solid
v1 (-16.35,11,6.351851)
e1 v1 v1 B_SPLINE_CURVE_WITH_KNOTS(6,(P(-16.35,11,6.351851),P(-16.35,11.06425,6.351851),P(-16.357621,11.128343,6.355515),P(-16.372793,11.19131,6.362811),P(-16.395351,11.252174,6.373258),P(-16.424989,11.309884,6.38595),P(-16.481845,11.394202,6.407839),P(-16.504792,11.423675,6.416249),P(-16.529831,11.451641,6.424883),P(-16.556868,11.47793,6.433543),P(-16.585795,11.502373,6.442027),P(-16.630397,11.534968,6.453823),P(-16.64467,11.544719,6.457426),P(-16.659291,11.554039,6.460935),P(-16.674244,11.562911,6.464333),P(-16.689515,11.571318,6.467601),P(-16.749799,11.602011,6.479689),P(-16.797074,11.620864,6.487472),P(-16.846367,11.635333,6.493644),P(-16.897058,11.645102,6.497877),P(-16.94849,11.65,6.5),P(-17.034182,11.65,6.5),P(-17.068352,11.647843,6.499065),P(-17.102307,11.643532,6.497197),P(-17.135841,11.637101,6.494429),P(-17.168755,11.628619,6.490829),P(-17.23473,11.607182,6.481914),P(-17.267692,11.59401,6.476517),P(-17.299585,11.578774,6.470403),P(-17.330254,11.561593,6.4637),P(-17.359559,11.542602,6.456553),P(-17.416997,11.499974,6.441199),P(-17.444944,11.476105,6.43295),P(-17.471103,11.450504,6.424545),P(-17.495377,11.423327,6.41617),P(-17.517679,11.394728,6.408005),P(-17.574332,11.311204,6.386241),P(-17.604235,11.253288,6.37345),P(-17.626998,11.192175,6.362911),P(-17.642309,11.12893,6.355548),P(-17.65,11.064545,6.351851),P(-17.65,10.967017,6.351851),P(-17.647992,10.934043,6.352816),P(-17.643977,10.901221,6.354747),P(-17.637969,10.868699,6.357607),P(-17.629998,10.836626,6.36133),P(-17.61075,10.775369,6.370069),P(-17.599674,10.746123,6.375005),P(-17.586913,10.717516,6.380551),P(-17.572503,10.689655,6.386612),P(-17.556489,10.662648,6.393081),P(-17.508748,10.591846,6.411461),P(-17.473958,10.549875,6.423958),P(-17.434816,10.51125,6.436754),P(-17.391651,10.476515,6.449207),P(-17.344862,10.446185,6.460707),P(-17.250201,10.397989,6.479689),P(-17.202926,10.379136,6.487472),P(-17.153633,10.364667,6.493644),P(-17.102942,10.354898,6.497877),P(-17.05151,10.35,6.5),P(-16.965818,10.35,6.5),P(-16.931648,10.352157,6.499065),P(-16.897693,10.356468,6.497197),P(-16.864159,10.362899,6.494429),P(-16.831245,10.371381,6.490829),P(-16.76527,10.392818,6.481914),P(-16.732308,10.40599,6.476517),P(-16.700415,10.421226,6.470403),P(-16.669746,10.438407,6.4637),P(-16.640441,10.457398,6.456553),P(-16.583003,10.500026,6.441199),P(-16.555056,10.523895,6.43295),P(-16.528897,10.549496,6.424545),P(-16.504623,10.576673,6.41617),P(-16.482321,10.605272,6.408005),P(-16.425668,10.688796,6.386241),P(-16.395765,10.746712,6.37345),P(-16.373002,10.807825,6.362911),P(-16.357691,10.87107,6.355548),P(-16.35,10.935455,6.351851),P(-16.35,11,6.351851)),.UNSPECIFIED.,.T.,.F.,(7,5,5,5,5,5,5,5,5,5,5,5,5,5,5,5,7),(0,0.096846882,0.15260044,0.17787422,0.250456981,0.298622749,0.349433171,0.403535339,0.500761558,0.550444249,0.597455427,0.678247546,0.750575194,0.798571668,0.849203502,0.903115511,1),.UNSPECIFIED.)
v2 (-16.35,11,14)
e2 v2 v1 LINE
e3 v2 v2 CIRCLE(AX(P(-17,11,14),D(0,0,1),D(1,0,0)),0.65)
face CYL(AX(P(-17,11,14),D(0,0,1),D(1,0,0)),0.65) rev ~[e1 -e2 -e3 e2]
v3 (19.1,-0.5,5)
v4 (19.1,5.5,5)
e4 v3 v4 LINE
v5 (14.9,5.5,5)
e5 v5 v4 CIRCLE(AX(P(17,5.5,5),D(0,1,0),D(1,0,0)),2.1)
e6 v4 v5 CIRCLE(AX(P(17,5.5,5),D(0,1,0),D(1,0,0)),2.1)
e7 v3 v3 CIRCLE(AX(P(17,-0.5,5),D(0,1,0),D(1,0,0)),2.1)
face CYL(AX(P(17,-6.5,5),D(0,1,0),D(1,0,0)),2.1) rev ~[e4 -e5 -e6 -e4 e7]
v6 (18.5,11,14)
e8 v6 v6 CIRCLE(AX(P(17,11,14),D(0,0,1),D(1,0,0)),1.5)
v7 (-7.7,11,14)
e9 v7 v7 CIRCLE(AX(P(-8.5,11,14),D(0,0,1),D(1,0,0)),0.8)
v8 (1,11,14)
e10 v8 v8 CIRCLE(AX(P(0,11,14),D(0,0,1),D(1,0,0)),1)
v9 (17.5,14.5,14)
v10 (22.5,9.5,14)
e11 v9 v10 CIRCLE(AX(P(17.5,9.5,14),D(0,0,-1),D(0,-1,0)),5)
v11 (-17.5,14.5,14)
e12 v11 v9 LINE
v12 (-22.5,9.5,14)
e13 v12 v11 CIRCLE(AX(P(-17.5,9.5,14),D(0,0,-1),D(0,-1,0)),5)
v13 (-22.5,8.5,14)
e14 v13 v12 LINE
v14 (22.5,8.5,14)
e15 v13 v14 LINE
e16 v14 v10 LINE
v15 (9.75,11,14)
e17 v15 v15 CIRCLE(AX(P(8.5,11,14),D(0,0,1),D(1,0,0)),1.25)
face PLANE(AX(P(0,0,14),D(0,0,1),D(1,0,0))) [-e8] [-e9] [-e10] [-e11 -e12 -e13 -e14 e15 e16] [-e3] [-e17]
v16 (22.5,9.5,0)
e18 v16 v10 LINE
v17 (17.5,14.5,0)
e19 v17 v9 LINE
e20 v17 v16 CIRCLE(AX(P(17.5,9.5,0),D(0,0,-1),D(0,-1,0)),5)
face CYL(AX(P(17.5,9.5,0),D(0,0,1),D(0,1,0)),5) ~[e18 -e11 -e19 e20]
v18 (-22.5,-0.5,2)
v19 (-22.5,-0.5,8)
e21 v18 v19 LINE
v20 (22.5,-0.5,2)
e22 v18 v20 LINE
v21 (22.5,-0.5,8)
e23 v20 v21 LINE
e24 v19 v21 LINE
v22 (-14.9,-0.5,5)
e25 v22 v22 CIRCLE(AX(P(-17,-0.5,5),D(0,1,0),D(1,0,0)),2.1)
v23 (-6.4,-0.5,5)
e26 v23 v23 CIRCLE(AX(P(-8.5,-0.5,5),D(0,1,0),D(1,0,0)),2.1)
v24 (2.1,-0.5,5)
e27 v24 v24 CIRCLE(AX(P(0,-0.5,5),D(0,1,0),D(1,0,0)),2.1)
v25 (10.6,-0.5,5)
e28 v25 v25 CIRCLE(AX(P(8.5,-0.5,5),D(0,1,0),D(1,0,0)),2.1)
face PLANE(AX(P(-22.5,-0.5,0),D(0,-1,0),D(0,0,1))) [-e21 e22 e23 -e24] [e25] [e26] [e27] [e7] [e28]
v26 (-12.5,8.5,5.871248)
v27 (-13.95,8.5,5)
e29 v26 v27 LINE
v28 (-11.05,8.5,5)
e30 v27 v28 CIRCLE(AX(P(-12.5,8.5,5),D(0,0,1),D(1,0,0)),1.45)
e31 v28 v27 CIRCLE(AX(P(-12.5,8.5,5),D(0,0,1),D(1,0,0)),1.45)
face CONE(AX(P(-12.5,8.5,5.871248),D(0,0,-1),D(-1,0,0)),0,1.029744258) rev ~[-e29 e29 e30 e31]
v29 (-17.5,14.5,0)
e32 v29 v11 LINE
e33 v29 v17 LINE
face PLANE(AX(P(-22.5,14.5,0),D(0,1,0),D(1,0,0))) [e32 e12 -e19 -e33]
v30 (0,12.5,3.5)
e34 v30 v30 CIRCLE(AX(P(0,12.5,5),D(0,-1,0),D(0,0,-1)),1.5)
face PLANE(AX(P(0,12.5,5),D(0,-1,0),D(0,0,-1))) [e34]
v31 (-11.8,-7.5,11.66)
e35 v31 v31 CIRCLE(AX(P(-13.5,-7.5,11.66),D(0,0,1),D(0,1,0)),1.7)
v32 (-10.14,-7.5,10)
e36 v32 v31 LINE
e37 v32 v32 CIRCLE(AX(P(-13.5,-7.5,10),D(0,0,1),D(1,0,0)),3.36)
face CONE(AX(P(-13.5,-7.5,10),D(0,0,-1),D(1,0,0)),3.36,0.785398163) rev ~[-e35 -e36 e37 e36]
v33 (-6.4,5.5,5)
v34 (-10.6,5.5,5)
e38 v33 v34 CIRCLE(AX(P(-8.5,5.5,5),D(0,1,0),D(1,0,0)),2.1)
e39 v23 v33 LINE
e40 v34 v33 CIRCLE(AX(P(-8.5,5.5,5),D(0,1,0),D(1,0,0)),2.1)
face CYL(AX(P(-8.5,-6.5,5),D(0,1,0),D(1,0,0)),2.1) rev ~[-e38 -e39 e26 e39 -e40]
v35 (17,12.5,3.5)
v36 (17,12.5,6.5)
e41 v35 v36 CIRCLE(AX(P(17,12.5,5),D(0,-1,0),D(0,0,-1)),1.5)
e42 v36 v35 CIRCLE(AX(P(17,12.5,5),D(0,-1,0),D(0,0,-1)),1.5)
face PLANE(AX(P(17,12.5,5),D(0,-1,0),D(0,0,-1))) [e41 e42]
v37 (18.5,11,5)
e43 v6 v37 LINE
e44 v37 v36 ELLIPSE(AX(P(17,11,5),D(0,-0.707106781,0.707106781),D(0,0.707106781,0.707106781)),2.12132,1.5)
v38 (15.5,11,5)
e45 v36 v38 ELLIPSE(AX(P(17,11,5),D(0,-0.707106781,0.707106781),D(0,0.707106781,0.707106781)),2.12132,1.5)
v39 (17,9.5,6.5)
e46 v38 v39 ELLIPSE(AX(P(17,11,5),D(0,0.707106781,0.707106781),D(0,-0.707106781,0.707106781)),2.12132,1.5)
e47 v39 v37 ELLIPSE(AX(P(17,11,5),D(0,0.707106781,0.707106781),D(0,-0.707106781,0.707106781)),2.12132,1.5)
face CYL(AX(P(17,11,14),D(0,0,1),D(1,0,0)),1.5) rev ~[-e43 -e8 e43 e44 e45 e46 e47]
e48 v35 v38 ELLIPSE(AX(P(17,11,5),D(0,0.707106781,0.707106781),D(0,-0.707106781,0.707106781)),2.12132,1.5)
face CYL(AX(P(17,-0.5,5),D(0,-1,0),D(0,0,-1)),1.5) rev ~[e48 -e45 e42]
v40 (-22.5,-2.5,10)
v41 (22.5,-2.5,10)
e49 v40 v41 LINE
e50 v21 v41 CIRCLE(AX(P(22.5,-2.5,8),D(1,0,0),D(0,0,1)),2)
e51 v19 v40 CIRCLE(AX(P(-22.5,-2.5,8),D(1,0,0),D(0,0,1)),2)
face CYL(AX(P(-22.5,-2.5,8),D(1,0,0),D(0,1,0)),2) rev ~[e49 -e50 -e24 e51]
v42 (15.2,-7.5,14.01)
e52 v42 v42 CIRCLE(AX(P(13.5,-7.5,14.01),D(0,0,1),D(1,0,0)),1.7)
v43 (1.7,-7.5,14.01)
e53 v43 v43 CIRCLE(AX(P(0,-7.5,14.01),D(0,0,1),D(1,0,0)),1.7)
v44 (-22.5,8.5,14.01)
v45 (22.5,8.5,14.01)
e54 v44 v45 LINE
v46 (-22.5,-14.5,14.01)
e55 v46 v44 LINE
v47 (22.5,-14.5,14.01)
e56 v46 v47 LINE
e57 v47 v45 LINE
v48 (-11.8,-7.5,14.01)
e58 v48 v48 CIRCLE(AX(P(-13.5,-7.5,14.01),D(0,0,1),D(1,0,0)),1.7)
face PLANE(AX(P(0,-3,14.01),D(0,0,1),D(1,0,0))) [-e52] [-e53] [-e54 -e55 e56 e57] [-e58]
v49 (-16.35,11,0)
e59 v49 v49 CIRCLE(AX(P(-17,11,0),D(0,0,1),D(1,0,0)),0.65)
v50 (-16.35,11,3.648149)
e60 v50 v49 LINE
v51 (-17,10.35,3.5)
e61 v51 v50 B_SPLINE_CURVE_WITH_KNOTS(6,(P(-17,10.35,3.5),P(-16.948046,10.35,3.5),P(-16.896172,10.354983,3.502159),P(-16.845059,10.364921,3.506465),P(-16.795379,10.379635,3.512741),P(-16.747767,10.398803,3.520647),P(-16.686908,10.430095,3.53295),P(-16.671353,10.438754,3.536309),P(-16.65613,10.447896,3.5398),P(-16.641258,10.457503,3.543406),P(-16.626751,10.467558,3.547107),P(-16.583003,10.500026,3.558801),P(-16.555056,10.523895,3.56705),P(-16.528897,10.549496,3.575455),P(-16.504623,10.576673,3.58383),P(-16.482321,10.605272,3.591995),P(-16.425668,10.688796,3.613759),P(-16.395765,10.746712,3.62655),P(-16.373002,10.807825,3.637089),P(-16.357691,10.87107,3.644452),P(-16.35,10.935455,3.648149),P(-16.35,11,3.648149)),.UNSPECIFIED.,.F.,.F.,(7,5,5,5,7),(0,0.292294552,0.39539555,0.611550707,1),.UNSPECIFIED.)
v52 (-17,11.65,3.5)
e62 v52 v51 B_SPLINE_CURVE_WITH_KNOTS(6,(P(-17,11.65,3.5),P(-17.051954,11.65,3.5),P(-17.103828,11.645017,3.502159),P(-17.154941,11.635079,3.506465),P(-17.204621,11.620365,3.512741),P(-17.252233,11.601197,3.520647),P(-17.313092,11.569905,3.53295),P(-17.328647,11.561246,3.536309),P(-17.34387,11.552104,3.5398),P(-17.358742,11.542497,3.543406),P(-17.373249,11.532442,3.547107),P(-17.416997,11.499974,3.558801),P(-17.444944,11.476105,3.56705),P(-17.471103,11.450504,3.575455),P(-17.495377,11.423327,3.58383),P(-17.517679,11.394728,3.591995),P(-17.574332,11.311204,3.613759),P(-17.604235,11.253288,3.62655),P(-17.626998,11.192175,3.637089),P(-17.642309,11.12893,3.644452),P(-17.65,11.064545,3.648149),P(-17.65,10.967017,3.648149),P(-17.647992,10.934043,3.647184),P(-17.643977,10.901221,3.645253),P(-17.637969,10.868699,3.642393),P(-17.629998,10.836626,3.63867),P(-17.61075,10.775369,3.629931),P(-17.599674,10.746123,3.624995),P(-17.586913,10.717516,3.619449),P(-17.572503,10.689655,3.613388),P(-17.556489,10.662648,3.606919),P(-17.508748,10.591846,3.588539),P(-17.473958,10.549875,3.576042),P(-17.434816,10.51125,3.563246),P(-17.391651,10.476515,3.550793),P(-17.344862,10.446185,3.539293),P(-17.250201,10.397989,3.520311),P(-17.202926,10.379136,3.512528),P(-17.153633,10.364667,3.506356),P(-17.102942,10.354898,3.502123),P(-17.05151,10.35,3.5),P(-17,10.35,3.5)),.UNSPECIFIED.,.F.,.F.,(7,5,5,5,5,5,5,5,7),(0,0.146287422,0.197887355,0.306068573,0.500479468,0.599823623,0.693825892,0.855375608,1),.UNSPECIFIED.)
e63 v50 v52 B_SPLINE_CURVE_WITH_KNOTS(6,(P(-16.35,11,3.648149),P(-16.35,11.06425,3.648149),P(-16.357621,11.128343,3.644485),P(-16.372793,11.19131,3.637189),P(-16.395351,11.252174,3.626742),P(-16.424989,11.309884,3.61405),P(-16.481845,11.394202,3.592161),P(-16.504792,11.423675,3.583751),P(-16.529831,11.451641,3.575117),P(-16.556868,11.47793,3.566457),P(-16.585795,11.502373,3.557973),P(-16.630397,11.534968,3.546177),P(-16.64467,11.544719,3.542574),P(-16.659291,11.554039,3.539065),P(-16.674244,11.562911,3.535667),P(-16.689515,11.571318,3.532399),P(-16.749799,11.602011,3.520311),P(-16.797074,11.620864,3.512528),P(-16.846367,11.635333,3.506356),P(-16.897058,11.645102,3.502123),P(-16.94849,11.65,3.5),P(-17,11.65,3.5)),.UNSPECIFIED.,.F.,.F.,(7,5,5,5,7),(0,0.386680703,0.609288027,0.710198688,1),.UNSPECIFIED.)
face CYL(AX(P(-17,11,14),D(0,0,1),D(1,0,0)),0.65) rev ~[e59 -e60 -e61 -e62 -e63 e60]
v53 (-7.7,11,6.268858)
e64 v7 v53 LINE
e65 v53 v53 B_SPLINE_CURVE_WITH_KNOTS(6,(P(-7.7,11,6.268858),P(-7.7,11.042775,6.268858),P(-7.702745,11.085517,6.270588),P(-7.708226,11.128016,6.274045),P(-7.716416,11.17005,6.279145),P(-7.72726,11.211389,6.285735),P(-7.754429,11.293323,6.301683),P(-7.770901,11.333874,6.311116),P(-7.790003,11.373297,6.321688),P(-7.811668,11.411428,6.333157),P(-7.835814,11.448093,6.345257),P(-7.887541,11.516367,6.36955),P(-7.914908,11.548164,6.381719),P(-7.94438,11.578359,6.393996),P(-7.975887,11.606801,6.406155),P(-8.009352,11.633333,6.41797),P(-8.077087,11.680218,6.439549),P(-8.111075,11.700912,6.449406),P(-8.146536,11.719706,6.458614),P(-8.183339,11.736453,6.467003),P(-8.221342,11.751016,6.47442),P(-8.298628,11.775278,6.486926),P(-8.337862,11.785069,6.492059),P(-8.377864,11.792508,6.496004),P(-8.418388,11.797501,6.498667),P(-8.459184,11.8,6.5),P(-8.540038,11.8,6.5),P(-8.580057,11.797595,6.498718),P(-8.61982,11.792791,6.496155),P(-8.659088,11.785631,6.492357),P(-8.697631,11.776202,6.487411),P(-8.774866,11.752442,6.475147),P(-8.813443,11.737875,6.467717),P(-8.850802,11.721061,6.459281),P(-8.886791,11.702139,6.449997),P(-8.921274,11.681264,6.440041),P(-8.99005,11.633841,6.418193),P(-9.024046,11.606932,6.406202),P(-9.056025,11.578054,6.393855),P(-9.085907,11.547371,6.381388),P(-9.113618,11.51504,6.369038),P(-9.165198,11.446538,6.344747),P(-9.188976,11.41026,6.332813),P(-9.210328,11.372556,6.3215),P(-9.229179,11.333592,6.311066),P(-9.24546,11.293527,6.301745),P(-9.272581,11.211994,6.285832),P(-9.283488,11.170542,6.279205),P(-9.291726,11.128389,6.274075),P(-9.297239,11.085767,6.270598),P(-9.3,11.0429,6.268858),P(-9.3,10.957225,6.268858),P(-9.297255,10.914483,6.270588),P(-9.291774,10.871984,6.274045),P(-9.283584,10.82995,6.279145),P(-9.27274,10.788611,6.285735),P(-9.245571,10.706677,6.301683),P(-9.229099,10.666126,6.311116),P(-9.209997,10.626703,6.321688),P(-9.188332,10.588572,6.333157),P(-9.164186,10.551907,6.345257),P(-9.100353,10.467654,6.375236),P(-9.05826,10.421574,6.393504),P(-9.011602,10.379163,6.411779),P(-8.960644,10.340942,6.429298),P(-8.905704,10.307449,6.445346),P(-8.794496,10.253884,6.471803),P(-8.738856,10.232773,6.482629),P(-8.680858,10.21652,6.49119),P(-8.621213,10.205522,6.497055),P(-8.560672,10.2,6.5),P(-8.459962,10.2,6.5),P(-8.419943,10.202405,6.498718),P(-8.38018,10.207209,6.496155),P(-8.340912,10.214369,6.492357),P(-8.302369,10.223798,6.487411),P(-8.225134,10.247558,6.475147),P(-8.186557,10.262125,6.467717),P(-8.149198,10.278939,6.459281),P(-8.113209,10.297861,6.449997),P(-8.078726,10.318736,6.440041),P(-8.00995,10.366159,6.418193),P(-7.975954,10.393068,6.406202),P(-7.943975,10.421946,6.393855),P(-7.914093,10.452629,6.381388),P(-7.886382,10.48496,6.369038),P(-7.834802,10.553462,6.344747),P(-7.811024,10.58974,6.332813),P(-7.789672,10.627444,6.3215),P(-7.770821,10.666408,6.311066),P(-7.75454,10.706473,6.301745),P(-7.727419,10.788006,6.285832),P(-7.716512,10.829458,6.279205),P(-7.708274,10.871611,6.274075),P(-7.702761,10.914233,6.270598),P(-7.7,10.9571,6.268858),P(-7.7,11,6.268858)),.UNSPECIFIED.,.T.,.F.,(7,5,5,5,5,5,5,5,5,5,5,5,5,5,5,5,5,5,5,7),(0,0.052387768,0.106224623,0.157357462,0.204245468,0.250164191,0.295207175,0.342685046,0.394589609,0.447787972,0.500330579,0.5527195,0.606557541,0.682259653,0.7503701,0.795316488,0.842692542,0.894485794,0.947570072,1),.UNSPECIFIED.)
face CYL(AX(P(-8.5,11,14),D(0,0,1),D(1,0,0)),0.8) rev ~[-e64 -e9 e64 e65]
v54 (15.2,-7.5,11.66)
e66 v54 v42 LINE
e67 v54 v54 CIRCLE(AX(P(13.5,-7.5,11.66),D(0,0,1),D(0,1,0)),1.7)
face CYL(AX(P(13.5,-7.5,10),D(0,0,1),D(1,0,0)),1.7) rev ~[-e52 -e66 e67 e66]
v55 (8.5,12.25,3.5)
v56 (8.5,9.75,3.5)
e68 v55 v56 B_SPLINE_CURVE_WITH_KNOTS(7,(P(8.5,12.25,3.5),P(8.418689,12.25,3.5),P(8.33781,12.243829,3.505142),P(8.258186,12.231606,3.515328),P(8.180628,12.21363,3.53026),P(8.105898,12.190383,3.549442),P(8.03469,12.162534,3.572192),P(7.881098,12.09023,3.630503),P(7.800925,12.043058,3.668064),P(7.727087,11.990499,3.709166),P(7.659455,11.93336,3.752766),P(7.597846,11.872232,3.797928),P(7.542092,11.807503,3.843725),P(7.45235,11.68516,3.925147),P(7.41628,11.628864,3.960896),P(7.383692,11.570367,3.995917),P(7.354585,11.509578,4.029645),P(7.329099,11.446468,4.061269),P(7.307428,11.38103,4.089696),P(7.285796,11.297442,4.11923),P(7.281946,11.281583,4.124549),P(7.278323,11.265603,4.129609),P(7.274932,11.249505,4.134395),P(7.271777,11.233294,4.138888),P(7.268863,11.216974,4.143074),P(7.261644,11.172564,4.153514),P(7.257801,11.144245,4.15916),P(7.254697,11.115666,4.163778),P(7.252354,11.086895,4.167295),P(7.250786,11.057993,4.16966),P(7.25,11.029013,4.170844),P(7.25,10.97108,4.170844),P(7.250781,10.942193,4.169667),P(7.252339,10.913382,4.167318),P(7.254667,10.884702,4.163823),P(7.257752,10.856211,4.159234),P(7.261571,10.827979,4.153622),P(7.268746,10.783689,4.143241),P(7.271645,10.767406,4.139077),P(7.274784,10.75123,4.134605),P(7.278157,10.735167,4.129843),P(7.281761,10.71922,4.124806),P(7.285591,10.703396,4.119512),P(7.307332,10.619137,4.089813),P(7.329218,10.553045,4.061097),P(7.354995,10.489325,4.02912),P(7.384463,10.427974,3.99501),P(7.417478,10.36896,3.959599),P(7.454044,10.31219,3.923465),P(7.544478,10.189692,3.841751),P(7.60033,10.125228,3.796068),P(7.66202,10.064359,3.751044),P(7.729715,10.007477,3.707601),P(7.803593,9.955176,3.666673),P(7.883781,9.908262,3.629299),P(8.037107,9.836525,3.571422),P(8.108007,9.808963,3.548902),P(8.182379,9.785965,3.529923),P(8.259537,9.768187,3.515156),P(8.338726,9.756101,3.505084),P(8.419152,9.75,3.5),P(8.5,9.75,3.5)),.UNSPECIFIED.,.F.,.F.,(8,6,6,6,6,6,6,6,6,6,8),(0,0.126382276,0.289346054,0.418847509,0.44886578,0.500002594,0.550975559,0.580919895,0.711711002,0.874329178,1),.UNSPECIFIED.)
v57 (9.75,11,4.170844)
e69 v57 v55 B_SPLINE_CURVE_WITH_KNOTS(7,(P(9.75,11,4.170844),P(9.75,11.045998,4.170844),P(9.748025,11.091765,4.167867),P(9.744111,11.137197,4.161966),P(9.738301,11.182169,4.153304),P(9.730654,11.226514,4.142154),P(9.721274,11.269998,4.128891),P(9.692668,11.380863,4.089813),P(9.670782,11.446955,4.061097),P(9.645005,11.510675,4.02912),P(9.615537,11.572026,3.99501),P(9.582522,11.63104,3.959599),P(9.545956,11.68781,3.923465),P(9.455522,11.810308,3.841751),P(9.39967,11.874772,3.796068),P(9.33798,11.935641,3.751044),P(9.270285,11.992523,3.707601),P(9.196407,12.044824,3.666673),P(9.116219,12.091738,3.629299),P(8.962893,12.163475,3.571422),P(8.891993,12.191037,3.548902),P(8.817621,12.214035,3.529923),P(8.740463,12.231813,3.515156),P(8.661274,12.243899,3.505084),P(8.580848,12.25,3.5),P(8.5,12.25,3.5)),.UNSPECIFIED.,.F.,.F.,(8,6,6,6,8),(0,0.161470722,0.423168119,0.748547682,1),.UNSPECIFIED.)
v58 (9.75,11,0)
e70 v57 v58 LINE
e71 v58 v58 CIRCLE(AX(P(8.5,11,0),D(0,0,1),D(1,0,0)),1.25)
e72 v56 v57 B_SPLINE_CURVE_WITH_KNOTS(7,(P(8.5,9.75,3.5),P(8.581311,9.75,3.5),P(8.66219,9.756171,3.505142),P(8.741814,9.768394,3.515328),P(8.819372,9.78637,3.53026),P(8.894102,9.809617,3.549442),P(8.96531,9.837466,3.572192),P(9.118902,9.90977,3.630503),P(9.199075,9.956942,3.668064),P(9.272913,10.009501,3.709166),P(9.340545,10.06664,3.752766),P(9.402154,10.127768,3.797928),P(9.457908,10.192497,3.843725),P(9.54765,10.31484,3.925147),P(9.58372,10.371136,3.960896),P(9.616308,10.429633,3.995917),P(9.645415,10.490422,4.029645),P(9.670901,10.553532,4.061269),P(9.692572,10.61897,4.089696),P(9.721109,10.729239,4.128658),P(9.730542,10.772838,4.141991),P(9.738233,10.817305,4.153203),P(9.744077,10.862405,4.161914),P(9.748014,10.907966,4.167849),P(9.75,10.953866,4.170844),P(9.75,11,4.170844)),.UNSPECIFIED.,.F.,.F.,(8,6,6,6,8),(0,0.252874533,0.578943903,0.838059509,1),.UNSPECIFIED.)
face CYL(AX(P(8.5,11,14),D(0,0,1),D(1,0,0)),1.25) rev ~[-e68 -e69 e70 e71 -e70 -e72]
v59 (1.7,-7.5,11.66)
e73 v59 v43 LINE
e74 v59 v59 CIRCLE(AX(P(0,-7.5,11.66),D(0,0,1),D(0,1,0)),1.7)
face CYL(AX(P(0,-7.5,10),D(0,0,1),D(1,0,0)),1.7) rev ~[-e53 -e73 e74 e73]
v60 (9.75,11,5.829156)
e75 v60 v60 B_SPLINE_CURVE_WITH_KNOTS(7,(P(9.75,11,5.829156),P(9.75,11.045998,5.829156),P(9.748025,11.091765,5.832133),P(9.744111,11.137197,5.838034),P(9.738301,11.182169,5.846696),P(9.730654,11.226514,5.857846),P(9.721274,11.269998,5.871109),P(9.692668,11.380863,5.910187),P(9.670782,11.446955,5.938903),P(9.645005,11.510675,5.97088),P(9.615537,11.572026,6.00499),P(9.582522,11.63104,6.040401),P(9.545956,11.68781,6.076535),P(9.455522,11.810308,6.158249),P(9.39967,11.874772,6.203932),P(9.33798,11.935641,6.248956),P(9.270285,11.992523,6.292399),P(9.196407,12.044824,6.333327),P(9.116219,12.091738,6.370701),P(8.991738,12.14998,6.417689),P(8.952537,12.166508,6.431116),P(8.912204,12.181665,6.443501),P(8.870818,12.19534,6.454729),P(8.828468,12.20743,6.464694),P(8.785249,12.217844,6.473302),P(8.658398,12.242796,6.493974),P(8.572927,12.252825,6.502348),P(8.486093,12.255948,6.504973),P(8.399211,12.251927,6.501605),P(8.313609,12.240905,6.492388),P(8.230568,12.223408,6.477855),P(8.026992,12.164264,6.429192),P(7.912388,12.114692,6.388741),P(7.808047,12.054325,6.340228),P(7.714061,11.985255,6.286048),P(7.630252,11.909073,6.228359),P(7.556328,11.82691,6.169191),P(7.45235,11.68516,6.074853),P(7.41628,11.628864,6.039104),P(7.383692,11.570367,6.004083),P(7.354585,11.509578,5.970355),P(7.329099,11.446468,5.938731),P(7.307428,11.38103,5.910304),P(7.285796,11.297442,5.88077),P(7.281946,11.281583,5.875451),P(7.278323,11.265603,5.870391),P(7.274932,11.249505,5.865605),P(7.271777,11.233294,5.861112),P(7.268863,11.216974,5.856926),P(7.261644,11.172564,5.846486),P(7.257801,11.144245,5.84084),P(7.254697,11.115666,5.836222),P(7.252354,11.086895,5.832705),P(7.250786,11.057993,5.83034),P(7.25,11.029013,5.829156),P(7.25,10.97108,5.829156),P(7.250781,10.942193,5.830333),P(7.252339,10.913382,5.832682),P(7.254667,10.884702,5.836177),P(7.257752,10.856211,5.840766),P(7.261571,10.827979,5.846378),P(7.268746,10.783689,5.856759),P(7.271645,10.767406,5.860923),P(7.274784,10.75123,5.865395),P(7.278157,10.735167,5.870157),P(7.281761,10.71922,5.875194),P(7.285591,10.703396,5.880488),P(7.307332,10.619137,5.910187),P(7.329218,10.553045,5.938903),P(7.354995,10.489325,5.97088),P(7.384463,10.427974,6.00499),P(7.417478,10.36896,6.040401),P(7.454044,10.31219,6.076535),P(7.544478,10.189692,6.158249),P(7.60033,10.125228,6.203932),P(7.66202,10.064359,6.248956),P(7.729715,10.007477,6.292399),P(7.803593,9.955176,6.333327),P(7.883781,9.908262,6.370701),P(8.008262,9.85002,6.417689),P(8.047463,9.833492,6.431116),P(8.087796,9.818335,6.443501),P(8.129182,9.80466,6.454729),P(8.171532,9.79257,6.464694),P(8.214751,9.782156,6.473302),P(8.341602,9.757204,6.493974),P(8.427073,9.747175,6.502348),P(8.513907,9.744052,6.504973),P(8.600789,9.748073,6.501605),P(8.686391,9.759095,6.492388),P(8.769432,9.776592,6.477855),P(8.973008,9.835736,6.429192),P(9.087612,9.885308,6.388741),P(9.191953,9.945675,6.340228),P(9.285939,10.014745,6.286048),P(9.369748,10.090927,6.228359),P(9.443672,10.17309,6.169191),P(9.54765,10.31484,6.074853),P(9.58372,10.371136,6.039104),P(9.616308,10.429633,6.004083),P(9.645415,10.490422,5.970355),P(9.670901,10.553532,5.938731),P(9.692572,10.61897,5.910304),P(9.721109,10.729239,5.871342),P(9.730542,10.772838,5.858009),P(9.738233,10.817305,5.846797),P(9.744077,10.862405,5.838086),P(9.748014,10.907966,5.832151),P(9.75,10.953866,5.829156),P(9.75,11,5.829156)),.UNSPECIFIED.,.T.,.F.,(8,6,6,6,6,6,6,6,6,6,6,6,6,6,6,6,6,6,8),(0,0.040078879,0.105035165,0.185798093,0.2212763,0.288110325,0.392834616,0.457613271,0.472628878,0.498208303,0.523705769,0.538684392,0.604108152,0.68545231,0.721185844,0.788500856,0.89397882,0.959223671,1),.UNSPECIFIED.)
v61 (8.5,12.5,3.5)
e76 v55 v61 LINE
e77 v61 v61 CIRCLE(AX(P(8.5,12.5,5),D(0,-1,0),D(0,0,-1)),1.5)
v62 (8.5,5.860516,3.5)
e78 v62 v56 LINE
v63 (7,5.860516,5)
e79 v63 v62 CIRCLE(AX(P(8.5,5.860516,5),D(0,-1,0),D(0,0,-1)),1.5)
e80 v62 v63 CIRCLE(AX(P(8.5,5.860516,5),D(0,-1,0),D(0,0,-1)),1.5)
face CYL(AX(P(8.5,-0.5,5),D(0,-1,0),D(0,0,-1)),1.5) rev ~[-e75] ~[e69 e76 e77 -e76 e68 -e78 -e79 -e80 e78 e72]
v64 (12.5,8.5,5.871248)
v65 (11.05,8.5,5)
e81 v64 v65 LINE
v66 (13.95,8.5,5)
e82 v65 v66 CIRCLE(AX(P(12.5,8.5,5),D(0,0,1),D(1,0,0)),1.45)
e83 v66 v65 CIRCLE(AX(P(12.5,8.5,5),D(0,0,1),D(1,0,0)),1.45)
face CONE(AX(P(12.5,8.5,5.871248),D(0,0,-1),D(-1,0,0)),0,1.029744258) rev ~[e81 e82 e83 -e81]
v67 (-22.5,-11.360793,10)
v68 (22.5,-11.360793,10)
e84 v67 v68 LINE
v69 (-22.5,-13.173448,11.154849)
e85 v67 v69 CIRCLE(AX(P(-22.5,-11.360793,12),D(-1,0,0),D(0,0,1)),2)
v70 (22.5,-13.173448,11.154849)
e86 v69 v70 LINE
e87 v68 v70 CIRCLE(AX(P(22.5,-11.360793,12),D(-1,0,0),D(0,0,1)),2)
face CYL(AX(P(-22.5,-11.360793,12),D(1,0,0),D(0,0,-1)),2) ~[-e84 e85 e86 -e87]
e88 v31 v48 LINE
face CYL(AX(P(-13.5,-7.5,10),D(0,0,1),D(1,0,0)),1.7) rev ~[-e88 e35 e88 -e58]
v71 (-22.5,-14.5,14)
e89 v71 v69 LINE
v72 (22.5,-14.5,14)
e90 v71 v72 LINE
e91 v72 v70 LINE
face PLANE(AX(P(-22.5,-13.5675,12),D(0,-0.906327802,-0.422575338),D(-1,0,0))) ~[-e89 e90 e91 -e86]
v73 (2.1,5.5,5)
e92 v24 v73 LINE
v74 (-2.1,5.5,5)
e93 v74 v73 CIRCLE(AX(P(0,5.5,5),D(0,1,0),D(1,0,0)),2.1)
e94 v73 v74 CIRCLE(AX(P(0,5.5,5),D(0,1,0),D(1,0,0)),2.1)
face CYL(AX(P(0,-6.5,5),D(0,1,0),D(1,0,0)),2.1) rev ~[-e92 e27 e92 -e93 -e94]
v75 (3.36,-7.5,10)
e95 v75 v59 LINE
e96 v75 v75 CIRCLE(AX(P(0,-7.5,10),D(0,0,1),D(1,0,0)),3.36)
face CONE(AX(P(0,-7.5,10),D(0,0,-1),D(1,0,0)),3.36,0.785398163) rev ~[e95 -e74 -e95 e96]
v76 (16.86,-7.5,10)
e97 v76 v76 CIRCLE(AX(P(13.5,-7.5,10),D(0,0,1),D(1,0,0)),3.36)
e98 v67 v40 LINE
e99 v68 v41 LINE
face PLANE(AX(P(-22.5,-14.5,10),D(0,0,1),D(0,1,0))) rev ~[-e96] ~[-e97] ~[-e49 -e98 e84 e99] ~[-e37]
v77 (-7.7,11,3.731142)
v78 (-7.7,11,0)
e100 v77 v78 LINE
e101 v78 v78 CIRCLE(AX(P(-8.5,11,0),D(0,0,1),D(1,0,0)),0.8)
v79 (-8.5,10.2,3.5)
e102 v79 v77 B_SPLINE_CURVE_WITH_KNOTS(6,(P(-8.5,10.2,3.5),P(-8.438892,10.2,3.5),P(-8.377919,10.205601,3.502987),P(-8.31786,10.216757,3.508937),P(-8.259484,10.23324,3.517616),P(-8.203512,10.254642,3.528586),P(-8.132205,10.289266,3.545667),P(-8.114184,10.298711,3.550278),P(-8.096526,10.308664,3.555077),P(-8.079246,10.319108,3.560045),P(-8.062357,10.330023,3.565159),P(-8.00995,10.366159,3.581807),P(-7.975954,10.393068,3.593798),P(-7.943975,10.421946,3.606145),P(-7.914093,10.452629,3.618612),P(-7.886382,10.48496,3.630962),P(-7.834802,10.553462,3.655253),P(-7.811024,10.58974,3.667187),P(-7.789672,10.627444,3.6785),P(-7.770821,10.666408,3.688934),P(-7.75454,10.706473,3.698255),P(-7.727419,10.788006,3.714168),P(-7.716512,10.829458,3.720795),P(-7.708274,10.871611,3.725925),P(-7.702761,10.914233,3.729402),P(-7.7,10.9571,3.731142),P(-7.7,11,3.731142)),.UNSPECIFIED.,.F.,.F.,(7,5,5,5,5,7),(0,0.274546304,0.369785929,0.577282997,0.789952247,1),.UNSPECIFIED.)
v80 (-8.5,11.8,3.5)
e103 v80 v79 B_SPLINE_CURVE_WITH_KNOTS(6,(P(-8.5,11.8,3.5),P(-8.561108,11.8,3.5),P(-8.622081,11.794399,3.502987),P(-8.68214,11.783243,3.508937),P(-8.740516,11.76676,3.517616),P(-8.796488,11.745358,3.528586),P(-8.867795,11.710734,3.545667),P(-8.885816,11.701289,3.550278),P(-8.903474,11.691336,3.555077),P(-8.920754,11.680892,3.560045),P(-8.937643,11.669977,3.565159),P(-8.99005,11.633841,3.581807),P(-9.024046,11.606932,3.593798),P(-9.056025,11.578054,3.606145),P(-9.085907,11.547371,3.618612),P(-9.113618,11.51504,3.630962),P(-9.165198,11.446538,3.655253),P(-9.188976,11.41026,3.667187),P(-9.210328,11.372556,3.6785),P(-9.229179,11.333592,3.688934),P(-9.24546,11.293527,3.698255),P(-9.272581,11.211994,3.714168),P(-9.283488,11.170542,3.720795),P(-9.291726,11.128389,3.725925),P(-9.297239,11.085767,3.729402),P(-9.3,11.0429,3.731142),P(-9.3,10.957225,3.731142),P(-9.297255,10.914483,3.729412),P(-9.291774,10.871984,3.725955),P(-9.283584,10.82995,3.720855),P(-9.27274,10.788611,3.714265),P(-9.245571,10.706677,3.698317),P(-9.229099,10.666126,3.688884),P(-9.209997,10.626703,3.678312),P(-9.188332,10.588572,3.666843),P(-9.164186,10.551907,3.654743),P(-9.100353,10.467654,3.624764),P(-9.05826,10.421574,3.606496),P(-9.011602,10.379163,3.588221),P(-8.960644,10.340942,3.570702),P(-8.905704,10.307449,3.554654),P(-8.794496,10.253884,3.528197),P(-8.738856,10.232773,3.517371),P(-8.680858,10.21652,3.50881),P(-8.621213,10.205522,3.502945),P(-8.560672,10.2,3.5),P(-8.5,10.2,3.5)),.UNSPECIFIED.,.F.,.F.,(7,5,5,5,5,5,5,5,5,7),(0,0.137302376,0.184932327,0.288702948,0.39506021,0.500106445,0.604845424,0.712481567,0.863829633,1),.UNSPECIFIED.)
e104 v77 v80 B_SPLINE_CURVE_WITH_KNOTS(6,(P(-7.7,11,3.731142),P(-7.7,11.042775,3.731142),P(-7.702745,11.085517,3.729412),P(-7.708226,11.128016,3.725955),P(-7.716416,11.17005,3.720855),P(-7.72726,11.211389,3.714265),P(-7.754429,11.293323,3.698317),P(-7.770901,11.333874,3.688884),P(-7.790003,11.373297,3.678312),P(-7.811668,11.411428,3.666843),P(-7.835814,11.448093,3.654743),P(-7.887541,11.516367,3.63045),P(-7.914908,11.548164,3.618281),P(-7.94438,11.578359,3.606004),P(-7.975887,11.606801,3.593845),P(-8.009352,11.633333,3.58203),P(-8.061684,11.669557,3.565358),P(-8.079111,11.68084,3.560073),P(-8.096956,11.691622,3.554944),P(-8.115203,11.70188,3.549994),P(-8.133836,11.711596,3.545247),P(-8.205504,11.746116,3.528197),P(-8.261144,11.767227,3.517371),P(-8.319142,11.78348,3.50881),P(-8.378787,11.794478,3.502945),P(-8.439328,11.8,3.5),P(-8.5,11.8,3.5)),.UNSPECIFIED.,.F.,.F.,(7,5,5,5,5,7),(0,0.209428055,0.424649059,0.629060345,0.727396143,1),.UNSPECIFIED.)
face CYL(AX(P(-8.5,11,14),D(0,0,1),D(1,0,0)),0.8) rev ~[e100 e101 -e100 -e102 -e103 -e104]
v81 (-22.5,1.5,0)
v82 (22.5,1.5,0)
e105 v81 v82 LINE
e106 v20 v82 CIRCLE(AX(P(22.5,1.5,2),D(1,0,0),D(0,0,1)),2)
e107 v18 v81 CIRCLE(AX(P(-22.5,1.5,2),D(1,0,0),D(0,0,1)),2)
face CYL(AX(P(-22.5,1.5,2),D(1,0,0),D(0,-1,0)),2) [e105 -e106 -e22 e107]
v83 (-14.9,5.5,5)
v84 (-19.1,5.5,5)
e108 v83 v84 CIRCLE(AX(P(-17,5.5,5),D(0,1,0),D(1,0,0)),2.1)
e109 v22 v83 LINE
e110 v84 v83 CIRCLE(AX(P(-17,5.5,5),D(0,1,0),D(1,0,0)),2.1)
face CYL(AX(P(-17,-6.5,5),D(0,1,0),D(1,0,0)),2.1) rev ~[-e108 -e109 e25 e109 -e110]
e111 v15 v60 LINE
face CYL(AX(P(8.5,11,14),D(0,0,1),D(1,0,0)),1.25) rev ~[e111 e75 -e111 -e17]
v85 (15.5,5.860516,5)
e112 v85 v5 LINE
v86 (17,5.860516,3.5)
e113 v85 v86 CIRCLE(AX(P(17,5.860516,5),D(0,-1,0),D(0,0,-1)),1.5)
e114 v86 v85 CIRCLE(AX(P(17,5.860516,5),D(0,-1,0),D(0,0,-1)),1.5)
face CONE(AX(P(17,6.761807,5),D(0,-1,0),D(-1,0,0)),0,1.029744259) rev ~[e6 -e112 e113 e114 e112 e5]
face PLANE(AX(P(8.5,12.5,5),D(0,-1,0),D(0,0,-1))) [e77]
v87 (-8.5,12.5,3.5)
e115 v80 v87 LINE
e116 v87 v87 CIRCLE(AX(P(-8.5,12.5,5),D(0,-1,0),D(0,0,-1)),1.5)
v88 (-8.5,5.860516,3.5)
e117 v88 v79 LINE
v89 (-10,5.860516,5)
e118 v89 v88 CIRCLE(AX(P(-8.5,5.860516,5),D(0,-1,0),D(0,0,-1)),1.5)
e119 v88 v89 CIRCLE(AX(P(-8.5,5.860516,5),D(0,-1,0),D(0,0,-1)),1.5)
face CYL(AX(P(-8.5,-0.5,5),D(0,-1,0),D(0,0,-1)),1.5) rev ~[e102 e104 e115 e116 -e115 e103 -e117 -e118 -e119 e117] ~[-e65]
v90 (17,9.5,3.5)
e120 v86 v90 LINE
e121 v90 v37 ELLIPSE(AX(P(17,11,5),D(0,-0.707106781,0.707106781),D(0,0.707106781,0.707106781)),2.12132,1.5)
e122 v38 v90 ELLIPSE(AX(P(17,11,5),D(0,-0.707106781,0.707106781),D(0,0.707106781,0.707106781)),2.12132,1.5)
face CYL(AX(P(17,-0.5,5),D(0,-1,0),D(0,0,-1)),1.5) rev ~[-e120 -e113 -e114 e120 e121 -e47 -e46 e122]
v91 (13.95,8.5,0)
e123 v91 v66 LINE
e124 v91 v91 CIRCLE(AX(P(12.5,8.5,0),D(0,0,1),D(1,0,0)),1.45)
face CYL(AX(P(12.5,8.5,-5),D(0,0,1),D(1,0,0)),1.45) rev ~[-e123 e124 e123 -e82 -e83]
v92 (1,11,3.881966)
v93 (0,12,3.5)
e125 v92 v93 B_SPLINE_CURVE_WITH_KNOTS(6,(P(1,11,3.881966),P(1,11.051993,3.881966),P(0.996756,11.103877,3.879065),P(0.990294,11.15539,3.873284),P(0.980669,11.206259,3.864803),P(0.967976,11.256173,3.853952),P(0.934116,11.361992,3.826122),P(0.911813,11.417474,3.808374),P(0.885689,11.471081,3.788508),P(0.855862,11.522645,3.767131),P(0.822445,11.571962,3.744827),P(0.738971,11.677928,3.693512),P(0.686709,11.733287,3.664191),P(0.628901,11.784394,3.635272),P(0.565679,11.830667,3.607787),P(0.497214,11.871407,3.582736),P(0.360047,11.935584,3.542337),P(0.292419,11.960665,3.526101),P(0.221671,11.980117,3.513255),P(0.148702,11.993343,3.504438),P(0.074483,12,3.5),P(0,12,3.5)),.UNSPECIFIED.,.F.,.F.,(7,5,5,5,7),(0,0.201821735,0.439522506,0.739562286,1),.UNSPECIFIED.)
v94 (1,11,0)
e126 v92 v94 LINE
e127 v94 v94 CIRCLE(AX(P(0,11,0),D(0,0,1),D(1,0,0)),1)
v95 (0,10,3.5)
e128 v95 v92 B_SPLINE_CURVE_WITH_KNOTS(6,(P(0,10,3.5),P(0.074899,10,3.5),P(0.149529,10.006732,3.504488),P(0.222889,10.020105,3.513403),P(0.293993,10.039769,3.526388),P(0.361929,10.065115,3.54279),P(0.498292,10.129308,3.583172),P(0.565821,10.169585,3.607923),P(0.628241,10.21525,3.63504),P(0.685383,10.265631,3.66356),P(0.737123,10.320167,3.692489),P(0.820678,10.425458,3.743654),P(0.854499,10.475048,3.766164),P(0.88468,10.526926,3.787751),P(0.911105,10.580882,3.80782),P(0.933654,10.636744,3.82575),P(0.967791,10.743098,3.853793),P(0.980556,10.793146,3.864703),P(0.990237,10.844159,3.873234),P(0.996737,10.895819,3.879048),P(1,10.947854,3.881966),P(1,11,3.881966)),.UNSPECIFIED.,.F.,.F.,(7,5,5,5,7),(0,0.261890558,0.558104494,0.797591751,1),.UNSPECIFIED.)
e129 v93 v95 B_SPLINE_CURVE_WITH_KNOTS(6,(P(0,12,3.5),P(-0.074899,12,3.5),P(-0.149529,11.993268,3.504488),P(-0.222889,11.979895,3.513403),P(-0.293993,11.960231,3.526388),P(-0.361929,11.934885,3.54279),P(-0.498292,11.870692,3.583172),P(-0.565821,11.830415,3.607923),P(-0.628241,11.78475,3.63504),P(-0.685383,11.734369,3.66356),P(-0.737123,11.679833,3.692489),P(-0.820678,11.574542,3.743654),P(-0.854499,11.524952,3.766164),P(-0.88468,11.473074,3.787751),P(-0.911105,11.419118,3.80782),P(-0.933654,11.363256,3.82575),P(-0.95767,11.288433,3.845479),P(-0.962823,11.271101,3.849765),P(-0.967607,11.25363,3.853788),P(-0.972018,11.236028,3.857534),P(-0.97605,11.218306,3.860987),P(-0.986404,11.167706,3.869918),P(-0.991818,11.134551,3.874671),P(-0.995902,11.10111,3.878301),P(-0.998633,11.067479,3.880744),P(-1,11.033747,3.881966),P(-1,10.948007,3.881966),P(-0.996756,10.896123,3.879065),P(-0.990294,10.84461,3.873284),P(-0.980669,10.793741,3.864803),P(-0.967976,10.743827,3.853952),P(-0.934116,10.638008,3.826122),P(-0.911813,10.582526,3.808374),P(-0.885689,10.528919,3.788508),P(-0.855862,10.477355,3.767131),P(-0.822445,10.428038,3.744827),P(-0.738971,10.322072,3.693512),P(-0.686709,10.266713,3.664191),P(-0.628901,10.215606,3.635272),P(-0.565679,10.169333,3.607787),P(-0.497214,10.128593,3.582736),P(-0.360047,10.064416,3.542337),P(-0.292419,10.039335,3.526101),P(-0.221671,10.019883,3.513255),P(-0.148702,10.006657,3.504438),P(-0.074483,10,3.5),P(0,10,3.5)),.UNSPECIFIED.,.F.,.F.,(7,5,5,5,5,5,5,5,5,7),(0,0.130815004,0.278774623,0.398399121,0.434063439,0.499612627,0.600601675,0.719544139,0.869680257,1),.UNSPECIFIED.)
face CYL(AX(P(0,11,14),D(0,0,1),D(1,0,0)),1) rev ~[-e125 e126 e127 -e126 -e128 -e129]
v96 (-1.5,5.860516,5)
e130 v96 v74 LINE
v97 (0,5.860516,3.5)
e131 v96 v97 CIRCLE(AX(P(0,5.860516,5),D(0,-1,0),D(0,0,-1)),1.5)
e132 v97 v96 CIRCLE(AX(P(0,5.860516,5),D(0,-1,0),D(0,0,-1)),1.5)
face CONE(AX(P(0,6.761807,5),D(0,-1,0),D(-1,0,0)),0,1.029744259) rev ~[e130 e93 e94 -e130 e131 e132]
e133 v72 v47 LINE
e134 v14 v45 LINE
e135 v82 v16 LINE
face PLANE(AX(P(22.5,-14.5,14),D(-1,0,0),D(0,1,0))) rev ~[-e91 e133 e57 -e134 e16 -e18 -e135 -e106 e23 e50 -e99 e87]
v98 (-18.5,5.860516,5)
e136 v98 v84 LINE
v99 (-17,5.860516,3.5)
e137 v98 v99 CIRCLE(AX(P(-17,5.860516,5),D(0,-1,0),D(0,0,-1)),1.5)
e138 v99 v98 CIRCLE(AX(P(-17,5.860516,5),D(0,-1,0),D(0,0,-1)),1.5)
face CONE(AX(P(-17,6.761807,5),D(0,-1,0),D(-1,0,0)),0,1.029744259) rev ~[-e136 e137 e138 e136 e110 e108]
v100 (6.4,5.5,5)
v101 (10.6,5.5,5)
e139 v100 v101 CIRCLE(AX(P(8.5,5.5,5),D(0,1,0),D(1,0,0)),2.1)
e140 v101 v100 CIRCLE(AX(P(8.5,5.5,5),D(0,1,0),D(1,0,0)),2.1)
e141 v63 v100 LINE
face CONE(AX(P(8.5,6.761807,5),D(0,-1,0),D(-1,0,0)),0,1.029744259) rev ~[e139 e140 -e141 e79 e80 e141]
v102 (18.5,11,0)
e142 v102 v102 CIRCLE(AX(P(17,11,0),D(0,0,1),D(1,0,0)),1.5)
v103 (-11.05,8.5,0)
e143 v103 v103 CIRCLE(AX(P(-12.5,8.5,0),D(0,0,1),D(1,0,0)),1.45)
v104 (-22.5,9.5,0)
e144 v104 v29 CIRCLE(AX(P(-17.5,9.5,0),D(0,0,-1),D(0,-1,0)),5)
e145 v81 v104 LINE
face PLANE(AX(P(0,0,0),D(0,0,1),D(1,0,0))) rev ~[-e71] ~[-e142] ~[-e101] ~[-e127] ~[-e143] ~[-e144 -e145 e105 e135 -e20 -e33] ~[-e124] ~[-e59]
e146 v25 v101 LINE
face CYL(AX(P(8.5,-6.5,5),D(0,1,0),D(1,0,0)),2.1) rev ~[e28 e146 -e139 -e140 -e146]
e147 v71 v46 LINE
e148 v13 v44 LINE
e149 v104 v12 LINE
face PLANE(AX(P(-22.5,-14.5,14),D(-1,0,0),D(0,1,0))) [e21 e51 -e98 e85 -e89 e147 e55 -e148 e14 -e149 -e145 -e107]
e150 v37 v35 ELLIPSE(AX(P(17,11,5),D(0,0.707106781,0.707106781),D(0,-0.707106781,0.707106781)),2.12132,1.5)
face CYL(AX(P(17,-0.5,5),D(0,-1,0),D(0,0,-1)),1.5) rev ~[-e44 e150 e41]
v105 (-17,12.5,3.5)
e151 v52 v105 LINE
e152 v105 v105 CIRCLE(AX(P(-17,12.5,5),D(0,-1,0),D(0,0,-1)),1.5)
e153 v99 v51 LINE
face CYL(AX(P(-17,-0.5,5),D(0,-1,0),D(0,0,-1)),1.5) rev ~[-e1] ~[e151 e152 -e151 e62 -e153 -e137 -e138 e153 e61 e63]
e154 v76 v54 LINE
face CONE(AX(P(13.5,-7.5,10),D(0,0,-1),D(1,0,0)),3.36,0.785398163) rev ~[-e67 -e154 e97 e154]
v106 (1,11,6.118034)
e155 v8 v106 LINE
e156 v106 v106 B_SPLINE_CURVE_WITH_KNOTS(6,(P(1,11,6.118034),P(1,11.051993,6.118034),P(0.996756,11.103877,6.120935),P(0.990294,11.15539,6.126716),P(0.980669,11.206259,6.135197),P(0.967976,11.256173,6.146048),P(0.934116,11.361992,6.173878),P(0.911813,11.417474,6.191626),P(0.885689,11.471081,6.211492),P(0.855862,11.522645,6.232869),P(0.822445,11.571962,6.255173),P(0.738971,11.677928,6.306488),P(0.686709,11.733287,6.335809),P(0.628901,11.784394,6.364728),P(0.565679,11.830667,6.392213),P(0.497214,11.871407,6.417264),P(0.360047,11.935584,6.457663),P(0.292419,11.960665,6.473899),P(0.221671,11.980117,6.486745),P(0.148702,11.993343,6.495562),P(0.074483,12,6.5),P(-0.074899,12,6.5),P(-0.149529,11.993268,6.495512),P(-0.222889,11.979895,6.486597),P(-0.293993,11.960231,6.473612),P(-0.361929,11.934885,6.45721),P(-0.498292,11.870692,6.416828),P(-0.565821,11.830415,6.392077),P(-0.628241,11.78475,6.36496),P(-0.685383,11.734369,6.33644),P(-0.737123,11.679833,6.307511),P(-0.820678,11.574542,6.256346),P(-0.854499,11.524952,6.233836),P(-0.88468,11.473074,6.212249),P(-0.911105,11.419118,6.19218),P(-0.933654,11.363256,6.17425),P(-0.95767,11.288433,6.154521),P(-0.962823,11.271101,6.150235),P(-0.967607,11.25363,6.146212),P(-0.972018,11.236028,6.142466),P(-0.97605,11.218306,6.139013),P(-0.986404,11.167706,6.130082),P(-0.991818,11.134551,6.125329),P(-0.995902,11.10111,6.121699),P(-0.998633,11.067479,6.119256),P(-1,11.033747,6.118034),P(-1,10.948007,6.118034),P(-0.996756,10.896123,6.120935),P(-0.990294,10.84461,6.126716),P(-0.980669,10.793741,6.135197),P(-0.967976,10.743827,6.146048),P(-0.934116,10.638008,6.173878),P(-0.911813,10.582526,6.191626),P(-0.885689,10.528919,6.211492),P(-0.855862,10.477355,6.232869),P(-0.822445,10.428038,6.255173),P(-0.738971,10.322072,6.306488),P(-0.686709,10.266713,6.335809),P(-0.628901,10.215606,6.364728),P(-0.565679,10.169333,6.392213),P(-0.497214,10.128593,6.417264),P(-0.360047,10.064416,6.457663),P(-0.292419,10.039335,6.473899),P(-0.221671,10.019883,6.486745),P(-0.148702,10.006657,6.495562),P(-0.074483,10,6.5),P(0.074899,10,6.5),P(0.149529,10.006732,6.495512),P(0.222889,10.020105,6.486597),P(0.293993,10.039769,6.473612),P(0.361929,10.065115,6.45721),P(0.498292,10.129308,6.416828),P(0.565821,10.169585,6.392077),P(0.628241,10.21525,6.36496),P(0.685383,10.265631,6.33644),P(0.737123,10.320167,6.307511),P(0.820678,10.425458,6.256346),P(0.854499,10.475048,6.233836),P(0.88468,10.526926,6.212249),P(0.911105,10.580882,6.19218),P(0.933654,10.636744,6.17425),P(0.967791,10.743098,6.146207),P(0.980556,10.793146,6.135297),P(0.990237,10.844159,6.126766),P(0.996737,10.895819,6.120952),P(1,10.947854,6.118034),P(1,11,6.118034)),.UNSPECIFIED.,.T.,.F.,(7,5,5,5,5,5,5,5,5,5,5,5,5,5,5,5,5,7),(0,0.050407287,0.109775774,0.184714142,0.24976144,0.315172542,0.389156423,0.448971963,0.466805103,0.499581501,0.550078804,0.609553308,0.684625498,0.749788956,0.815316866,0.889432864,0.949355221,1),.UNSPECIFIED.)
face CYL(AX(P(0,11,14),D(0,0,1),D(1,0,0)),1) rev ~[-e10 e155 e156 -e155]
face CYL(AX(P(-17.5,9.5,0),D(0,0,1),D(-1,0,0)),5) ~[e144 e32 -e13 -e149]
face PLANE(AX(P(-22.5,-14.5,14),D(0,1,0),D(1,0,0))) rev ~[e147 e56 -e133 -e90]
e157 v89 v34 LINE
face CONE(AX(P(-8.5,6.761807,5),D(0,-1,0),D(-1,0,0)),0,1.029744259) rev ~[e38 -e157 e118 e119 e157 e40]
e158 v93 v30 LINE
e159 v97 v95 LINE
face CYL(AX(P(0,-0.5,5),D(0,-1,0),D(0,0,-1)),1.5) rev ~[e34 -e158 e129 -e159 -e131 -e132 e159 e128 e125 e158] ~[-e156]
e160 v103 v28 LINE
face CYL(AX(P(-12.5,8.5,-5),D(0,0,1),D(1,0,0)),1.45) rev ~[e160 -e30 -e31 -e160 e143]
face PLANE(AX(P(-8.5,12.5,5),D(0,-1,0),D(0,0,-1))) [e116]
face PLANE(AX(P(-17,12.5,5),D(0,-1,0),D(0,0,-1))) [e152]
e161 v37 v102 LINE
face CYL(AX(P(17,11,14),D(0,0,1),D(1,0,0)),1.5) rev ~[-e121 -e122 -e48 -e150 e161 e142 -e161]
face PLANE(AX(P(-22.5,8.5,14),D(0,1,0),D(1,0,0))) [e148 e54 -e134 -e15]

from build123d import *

# Parameters (mm, degrees)
ESQUISSE1_W                                      = 45
ESQUISSE1_H                                      = 29
BOSS_EXTRU_1_DEPTH                               = 14
ESQUISSE8_W                                      = 45
ESQUISSE8_H                                      = 23
BOSS_EXTRU_2_DEPTH                               = 0.01
ESQUISSE3_R                                      = 1
ESQUISSE3_R_2                                    = 0.8
ESQUISSE3_R_3                                    = 0.65
ESQUISSE3_R_4                                    = 1.25
ESQUISSE3_R_5                                    = 1.5
ENL_V_MAT_EXTRU_2_DEPTH                          = 1.01
ENL_V_MAT_EXTRU_2_DEPTH_BACK                     = 15
ESQUISSE4_W                                      = 10
ESQUISSE4_H                                      = 14
ENL_V_MAT_EXTRU_3_DEPTH                          = 46
CONG_1_R                                         = 5
CONG_2_R                                         = 2
ESQUISSE5_R                                      = 1.5
ENL_V_MAT_EXTRU_4_DEPTH                          = 13
FRAISAGE_POUR_VIS_T_TE_FRAIS_E_6_PAN_D           = 3.4
FRAISAGE_POUR_VIS_T_TE_FRAIS_E_6_PAN_CSINK_D     = 6.72
FRAISAGE_POUR_VIS_T_TE_FRAIS_E_6_PAN_CSINK_ANGLE = 90
TROU_POUR_TARAUDAGE_POUR_TROU_TARAUD_M5_D        = 4.2
TROU_POUR_TARAUDAGE_POUR_TROU_TARAUD_M5_DEPTH    = 6
TROU_POUR_TARAUDAGE_POUR_TROU_TARAUD_M5_TIP      = 1.2618073
D_GAGEMENT_M2_51_D                               = 2.9
D_GAGEMENT_M2_51_DEPTH                           = 5
D_GAGEMENT_M2_51_TIP                             = 0.871247898
CONG_4_R                                         = 2
CHANFREIN1_SIZE                                  = 4
CHANFREIN1_SIZE2                                 = 1.865
CONG_5_R                                         = 2


with BuildPart() as part:
    # Esquisse1 → Boss.-Extru.1 (new body)
    with BuildSketch(Plane.XY):
        Rectangle(ESQUISSE1_W, ESQUISSE1_H)
    extrude(amount=BOSS_EXTRU_1_DEPTH)

    # Esquisse8 → Boss.-Extru.2 (add)
    with BuildSketch(Plane.XY.offset(14)):
        with Locations((0, -3)):
            Rectangle(ESQUISSE8_W, ESQUISSE8_H)
    extrude(amount=BOSS_EXTRU_2_DEPTH)

    # Esquisse3 → Enlèv. mat.-Extru.2 (cut, two sides)
    with BuildSketch(Plane.XY.offset(14)) as enl_v_mat_extru_2_sk:
        with Locations((0, 11)):
            Circle(ESQUISSE3_R)
        with Locations((-8.5, 11)):
            Circle(ESQUISSE3_R_2)
        with Locations((-17, 11)):
            Circle(ESQUISSE3_R_3)
        with Locations((8.5, 11)):
            Circle(ESQUISSE3_R_4)
        with Locations((17, 11)):
            Circle(ESQUISSE3_R_5)
    extrude(amount=ENL_V_MAT_EXTRU_2_DEPTH, mode=Mode.SUBTRACT)
    extrude(enl_v_mat_extru_2_sk.sketch, amount=-ENL_V_MAT_EXTRU_2_DEPTH_BACK, mode=Mode.SUBTRACT)

    # Esquisse4 → Enlèv. mat.-Extru.3 (cut, through all)
    with BuildSketch(Plane.ZY.offset(22.5)):
        with Locations((5, -7.5)):
            Rectangle(ESQUISSE4_W, ESQUISSE4_H)
    extrude(amount=-ENL_V_MAT_EXTRU_3_DEPTH, mode=Mode.SUBTRACT)

    # Congé1
    cong_1_edges = [part.edges().sort_by_distance(p)[0] for p in [
        (22.5, 14.5, 7),
        (-22.5, 14.5, 7),
    ]]
    fillet(cong_1_edges, radius=CONG_1_R)

    # Congé2
    cong_2_edges = [part.edges().sort_by_distance(p)[0] for p in [
        (0, -0.5, 10),
    ]]
    fillet(cong_2_edges, radius=CONG_2_R)

    # Esquisse5 → Enlèv. mat.-Extru.4 (cut)
    with BuildSketch(Plane.XZ.offset(0.5)):
        with Locations(Location((17, 5, 0), (0, 0, 270))):  # turned: the seam where the file's is
            Circle(ESQUISSE5_R)
        with Locations(Location((8.5, 5, 0), (0, 0, 270))):  # turned: the seam where the file's is
            Circle(ESQUISSE5_R)
        with Locations(Location((0, 5, 0), (0, 0, 270))):  # turned: the seam where the file's is
            Circle(ESQUISSE5_R)
        with Locations(Location((-8.5, 5, 0), (0, 0, 270))):  # turned: the seam where the file's is
            Circle(ESQUISSE5_R)
        with Locations(Location((-17, 5, 0), (0, 0, 270))):  # turned: the seam where the file's is
            Circle(ESQUISSE5_R)
    extrude(amount=-ENL_V_MAT_EXTRU_4_DEPTH, mode=Mode.SUBTRACT)

    # Fraisage pour vis à tête fraisée à 6 pans creux M31 (through all)
    with Locations(Plane(origin=(0, 0, 10), x_dir=(-1, 0, 0), z_dir=(0, 0, -1))):
        with Locations((-13.5, -7.5), (13.5, -7.5), (0, -7.5)):
            CounterSinkHole(FRAISAGE_POUR_VIS_T_TE_FRAIS_E_6_PAN_D / 2, FRAISAGE_POUR_VIS_T_TE_FRAIS_E_6_PAN_CSINK_D / 2, counter_sink_angle=FRAISAGE_POUR_VIS_T_TE_FRAIS_E_6_PAN_CSINK_ANGLE)

    # Trou pour taraudage pour trou taraudé M51
    with Locations(Plane(origin=(0, -0.5, 0), x_dir=(-1, 0, 0), z_dir=(0, -1, 0))):
        with Locations((17, -5), (8.5, -5), (0, -5), (-8.5, -5), (-17, -5)):
            Hole(TROU_POUR_TARAUDAGE_POUR_TROU_TARAUD_M5_D / 2, depth=TROU_POUR_TARAUDAGE_POUR_TROU_TARAUD_M5_DEPTH)
            with Locations((0, 0, -(TROU_POUR_TARAUDAGE_POUR_TROU_TARAUD_M5_DEPTH + TROU_POUR_TARAUDAGE_POUR_TROU_TARAUD_M5_TIP / 2))):  # 118° drill point
                Cone(0, TROU_POUR_TARAUDAGE_POUR_TROU_TARAUD_M5_D / 2, TROU_POUR_TARAUDAGE_POUR_TROU_TARAUD_M5_TIP, mode=Mode.SUBTRACT)

    # Dégagement M2.51
    with Locations(Plane(origin=(0, 0, 0), x_dir=(-1, 0, 0), z_dir=(0, 0, -1))):
        with Locations((-12.5, 8.5), (12.5, 8.5)):
            Hole(D_GAGEMENT_M2_51_D / 2, depth=D_GAGEMENT_M2_51_DEPTH)
            with Locations((0, 0, -(D_GAGEMENT_M2_51_DEPTH + D_GAGEMENT_M2_51_TIP / 2))):  # 118° drill point
                Cone(0, D_GAGEMENT_M2_51_D / 2, D_GAGEMENT_M2_51_TIP, mode=Mode.SUBTRACT)

    # Congé4
    cong_4_edges = [part.edges().sort_by_distance(p)[0] for p in [
        (0, -0.5, 0),
    ]]
    fillet(cong_4_edges, radius=CONG_4_R)

    # Chanfrein1
    chanfrein1_edges = [part.edges().sort_by_distance(p)[0] for p in [
        (0, -14.5, 10),
    ]]
    chanfrein1_side = [part.faces().sort_by_distance(p)[0] for p in [
        (0, -14.5, 12.005),
    ]]
    chamfer(chanfrein1_edges, length=CHANFREIN1_SIZE, length2=CHANFREIN1_SIZE2, reference=chanfrein1_side[0])

    # Congé5
    cong_5_edges = [part.edges().sort_by_distance(p)[0] for p in [
        (0, -12.635, 10),
    ]]
    fillet(cong_5_edges, radius=CONG_5_R)


solid = part.part
